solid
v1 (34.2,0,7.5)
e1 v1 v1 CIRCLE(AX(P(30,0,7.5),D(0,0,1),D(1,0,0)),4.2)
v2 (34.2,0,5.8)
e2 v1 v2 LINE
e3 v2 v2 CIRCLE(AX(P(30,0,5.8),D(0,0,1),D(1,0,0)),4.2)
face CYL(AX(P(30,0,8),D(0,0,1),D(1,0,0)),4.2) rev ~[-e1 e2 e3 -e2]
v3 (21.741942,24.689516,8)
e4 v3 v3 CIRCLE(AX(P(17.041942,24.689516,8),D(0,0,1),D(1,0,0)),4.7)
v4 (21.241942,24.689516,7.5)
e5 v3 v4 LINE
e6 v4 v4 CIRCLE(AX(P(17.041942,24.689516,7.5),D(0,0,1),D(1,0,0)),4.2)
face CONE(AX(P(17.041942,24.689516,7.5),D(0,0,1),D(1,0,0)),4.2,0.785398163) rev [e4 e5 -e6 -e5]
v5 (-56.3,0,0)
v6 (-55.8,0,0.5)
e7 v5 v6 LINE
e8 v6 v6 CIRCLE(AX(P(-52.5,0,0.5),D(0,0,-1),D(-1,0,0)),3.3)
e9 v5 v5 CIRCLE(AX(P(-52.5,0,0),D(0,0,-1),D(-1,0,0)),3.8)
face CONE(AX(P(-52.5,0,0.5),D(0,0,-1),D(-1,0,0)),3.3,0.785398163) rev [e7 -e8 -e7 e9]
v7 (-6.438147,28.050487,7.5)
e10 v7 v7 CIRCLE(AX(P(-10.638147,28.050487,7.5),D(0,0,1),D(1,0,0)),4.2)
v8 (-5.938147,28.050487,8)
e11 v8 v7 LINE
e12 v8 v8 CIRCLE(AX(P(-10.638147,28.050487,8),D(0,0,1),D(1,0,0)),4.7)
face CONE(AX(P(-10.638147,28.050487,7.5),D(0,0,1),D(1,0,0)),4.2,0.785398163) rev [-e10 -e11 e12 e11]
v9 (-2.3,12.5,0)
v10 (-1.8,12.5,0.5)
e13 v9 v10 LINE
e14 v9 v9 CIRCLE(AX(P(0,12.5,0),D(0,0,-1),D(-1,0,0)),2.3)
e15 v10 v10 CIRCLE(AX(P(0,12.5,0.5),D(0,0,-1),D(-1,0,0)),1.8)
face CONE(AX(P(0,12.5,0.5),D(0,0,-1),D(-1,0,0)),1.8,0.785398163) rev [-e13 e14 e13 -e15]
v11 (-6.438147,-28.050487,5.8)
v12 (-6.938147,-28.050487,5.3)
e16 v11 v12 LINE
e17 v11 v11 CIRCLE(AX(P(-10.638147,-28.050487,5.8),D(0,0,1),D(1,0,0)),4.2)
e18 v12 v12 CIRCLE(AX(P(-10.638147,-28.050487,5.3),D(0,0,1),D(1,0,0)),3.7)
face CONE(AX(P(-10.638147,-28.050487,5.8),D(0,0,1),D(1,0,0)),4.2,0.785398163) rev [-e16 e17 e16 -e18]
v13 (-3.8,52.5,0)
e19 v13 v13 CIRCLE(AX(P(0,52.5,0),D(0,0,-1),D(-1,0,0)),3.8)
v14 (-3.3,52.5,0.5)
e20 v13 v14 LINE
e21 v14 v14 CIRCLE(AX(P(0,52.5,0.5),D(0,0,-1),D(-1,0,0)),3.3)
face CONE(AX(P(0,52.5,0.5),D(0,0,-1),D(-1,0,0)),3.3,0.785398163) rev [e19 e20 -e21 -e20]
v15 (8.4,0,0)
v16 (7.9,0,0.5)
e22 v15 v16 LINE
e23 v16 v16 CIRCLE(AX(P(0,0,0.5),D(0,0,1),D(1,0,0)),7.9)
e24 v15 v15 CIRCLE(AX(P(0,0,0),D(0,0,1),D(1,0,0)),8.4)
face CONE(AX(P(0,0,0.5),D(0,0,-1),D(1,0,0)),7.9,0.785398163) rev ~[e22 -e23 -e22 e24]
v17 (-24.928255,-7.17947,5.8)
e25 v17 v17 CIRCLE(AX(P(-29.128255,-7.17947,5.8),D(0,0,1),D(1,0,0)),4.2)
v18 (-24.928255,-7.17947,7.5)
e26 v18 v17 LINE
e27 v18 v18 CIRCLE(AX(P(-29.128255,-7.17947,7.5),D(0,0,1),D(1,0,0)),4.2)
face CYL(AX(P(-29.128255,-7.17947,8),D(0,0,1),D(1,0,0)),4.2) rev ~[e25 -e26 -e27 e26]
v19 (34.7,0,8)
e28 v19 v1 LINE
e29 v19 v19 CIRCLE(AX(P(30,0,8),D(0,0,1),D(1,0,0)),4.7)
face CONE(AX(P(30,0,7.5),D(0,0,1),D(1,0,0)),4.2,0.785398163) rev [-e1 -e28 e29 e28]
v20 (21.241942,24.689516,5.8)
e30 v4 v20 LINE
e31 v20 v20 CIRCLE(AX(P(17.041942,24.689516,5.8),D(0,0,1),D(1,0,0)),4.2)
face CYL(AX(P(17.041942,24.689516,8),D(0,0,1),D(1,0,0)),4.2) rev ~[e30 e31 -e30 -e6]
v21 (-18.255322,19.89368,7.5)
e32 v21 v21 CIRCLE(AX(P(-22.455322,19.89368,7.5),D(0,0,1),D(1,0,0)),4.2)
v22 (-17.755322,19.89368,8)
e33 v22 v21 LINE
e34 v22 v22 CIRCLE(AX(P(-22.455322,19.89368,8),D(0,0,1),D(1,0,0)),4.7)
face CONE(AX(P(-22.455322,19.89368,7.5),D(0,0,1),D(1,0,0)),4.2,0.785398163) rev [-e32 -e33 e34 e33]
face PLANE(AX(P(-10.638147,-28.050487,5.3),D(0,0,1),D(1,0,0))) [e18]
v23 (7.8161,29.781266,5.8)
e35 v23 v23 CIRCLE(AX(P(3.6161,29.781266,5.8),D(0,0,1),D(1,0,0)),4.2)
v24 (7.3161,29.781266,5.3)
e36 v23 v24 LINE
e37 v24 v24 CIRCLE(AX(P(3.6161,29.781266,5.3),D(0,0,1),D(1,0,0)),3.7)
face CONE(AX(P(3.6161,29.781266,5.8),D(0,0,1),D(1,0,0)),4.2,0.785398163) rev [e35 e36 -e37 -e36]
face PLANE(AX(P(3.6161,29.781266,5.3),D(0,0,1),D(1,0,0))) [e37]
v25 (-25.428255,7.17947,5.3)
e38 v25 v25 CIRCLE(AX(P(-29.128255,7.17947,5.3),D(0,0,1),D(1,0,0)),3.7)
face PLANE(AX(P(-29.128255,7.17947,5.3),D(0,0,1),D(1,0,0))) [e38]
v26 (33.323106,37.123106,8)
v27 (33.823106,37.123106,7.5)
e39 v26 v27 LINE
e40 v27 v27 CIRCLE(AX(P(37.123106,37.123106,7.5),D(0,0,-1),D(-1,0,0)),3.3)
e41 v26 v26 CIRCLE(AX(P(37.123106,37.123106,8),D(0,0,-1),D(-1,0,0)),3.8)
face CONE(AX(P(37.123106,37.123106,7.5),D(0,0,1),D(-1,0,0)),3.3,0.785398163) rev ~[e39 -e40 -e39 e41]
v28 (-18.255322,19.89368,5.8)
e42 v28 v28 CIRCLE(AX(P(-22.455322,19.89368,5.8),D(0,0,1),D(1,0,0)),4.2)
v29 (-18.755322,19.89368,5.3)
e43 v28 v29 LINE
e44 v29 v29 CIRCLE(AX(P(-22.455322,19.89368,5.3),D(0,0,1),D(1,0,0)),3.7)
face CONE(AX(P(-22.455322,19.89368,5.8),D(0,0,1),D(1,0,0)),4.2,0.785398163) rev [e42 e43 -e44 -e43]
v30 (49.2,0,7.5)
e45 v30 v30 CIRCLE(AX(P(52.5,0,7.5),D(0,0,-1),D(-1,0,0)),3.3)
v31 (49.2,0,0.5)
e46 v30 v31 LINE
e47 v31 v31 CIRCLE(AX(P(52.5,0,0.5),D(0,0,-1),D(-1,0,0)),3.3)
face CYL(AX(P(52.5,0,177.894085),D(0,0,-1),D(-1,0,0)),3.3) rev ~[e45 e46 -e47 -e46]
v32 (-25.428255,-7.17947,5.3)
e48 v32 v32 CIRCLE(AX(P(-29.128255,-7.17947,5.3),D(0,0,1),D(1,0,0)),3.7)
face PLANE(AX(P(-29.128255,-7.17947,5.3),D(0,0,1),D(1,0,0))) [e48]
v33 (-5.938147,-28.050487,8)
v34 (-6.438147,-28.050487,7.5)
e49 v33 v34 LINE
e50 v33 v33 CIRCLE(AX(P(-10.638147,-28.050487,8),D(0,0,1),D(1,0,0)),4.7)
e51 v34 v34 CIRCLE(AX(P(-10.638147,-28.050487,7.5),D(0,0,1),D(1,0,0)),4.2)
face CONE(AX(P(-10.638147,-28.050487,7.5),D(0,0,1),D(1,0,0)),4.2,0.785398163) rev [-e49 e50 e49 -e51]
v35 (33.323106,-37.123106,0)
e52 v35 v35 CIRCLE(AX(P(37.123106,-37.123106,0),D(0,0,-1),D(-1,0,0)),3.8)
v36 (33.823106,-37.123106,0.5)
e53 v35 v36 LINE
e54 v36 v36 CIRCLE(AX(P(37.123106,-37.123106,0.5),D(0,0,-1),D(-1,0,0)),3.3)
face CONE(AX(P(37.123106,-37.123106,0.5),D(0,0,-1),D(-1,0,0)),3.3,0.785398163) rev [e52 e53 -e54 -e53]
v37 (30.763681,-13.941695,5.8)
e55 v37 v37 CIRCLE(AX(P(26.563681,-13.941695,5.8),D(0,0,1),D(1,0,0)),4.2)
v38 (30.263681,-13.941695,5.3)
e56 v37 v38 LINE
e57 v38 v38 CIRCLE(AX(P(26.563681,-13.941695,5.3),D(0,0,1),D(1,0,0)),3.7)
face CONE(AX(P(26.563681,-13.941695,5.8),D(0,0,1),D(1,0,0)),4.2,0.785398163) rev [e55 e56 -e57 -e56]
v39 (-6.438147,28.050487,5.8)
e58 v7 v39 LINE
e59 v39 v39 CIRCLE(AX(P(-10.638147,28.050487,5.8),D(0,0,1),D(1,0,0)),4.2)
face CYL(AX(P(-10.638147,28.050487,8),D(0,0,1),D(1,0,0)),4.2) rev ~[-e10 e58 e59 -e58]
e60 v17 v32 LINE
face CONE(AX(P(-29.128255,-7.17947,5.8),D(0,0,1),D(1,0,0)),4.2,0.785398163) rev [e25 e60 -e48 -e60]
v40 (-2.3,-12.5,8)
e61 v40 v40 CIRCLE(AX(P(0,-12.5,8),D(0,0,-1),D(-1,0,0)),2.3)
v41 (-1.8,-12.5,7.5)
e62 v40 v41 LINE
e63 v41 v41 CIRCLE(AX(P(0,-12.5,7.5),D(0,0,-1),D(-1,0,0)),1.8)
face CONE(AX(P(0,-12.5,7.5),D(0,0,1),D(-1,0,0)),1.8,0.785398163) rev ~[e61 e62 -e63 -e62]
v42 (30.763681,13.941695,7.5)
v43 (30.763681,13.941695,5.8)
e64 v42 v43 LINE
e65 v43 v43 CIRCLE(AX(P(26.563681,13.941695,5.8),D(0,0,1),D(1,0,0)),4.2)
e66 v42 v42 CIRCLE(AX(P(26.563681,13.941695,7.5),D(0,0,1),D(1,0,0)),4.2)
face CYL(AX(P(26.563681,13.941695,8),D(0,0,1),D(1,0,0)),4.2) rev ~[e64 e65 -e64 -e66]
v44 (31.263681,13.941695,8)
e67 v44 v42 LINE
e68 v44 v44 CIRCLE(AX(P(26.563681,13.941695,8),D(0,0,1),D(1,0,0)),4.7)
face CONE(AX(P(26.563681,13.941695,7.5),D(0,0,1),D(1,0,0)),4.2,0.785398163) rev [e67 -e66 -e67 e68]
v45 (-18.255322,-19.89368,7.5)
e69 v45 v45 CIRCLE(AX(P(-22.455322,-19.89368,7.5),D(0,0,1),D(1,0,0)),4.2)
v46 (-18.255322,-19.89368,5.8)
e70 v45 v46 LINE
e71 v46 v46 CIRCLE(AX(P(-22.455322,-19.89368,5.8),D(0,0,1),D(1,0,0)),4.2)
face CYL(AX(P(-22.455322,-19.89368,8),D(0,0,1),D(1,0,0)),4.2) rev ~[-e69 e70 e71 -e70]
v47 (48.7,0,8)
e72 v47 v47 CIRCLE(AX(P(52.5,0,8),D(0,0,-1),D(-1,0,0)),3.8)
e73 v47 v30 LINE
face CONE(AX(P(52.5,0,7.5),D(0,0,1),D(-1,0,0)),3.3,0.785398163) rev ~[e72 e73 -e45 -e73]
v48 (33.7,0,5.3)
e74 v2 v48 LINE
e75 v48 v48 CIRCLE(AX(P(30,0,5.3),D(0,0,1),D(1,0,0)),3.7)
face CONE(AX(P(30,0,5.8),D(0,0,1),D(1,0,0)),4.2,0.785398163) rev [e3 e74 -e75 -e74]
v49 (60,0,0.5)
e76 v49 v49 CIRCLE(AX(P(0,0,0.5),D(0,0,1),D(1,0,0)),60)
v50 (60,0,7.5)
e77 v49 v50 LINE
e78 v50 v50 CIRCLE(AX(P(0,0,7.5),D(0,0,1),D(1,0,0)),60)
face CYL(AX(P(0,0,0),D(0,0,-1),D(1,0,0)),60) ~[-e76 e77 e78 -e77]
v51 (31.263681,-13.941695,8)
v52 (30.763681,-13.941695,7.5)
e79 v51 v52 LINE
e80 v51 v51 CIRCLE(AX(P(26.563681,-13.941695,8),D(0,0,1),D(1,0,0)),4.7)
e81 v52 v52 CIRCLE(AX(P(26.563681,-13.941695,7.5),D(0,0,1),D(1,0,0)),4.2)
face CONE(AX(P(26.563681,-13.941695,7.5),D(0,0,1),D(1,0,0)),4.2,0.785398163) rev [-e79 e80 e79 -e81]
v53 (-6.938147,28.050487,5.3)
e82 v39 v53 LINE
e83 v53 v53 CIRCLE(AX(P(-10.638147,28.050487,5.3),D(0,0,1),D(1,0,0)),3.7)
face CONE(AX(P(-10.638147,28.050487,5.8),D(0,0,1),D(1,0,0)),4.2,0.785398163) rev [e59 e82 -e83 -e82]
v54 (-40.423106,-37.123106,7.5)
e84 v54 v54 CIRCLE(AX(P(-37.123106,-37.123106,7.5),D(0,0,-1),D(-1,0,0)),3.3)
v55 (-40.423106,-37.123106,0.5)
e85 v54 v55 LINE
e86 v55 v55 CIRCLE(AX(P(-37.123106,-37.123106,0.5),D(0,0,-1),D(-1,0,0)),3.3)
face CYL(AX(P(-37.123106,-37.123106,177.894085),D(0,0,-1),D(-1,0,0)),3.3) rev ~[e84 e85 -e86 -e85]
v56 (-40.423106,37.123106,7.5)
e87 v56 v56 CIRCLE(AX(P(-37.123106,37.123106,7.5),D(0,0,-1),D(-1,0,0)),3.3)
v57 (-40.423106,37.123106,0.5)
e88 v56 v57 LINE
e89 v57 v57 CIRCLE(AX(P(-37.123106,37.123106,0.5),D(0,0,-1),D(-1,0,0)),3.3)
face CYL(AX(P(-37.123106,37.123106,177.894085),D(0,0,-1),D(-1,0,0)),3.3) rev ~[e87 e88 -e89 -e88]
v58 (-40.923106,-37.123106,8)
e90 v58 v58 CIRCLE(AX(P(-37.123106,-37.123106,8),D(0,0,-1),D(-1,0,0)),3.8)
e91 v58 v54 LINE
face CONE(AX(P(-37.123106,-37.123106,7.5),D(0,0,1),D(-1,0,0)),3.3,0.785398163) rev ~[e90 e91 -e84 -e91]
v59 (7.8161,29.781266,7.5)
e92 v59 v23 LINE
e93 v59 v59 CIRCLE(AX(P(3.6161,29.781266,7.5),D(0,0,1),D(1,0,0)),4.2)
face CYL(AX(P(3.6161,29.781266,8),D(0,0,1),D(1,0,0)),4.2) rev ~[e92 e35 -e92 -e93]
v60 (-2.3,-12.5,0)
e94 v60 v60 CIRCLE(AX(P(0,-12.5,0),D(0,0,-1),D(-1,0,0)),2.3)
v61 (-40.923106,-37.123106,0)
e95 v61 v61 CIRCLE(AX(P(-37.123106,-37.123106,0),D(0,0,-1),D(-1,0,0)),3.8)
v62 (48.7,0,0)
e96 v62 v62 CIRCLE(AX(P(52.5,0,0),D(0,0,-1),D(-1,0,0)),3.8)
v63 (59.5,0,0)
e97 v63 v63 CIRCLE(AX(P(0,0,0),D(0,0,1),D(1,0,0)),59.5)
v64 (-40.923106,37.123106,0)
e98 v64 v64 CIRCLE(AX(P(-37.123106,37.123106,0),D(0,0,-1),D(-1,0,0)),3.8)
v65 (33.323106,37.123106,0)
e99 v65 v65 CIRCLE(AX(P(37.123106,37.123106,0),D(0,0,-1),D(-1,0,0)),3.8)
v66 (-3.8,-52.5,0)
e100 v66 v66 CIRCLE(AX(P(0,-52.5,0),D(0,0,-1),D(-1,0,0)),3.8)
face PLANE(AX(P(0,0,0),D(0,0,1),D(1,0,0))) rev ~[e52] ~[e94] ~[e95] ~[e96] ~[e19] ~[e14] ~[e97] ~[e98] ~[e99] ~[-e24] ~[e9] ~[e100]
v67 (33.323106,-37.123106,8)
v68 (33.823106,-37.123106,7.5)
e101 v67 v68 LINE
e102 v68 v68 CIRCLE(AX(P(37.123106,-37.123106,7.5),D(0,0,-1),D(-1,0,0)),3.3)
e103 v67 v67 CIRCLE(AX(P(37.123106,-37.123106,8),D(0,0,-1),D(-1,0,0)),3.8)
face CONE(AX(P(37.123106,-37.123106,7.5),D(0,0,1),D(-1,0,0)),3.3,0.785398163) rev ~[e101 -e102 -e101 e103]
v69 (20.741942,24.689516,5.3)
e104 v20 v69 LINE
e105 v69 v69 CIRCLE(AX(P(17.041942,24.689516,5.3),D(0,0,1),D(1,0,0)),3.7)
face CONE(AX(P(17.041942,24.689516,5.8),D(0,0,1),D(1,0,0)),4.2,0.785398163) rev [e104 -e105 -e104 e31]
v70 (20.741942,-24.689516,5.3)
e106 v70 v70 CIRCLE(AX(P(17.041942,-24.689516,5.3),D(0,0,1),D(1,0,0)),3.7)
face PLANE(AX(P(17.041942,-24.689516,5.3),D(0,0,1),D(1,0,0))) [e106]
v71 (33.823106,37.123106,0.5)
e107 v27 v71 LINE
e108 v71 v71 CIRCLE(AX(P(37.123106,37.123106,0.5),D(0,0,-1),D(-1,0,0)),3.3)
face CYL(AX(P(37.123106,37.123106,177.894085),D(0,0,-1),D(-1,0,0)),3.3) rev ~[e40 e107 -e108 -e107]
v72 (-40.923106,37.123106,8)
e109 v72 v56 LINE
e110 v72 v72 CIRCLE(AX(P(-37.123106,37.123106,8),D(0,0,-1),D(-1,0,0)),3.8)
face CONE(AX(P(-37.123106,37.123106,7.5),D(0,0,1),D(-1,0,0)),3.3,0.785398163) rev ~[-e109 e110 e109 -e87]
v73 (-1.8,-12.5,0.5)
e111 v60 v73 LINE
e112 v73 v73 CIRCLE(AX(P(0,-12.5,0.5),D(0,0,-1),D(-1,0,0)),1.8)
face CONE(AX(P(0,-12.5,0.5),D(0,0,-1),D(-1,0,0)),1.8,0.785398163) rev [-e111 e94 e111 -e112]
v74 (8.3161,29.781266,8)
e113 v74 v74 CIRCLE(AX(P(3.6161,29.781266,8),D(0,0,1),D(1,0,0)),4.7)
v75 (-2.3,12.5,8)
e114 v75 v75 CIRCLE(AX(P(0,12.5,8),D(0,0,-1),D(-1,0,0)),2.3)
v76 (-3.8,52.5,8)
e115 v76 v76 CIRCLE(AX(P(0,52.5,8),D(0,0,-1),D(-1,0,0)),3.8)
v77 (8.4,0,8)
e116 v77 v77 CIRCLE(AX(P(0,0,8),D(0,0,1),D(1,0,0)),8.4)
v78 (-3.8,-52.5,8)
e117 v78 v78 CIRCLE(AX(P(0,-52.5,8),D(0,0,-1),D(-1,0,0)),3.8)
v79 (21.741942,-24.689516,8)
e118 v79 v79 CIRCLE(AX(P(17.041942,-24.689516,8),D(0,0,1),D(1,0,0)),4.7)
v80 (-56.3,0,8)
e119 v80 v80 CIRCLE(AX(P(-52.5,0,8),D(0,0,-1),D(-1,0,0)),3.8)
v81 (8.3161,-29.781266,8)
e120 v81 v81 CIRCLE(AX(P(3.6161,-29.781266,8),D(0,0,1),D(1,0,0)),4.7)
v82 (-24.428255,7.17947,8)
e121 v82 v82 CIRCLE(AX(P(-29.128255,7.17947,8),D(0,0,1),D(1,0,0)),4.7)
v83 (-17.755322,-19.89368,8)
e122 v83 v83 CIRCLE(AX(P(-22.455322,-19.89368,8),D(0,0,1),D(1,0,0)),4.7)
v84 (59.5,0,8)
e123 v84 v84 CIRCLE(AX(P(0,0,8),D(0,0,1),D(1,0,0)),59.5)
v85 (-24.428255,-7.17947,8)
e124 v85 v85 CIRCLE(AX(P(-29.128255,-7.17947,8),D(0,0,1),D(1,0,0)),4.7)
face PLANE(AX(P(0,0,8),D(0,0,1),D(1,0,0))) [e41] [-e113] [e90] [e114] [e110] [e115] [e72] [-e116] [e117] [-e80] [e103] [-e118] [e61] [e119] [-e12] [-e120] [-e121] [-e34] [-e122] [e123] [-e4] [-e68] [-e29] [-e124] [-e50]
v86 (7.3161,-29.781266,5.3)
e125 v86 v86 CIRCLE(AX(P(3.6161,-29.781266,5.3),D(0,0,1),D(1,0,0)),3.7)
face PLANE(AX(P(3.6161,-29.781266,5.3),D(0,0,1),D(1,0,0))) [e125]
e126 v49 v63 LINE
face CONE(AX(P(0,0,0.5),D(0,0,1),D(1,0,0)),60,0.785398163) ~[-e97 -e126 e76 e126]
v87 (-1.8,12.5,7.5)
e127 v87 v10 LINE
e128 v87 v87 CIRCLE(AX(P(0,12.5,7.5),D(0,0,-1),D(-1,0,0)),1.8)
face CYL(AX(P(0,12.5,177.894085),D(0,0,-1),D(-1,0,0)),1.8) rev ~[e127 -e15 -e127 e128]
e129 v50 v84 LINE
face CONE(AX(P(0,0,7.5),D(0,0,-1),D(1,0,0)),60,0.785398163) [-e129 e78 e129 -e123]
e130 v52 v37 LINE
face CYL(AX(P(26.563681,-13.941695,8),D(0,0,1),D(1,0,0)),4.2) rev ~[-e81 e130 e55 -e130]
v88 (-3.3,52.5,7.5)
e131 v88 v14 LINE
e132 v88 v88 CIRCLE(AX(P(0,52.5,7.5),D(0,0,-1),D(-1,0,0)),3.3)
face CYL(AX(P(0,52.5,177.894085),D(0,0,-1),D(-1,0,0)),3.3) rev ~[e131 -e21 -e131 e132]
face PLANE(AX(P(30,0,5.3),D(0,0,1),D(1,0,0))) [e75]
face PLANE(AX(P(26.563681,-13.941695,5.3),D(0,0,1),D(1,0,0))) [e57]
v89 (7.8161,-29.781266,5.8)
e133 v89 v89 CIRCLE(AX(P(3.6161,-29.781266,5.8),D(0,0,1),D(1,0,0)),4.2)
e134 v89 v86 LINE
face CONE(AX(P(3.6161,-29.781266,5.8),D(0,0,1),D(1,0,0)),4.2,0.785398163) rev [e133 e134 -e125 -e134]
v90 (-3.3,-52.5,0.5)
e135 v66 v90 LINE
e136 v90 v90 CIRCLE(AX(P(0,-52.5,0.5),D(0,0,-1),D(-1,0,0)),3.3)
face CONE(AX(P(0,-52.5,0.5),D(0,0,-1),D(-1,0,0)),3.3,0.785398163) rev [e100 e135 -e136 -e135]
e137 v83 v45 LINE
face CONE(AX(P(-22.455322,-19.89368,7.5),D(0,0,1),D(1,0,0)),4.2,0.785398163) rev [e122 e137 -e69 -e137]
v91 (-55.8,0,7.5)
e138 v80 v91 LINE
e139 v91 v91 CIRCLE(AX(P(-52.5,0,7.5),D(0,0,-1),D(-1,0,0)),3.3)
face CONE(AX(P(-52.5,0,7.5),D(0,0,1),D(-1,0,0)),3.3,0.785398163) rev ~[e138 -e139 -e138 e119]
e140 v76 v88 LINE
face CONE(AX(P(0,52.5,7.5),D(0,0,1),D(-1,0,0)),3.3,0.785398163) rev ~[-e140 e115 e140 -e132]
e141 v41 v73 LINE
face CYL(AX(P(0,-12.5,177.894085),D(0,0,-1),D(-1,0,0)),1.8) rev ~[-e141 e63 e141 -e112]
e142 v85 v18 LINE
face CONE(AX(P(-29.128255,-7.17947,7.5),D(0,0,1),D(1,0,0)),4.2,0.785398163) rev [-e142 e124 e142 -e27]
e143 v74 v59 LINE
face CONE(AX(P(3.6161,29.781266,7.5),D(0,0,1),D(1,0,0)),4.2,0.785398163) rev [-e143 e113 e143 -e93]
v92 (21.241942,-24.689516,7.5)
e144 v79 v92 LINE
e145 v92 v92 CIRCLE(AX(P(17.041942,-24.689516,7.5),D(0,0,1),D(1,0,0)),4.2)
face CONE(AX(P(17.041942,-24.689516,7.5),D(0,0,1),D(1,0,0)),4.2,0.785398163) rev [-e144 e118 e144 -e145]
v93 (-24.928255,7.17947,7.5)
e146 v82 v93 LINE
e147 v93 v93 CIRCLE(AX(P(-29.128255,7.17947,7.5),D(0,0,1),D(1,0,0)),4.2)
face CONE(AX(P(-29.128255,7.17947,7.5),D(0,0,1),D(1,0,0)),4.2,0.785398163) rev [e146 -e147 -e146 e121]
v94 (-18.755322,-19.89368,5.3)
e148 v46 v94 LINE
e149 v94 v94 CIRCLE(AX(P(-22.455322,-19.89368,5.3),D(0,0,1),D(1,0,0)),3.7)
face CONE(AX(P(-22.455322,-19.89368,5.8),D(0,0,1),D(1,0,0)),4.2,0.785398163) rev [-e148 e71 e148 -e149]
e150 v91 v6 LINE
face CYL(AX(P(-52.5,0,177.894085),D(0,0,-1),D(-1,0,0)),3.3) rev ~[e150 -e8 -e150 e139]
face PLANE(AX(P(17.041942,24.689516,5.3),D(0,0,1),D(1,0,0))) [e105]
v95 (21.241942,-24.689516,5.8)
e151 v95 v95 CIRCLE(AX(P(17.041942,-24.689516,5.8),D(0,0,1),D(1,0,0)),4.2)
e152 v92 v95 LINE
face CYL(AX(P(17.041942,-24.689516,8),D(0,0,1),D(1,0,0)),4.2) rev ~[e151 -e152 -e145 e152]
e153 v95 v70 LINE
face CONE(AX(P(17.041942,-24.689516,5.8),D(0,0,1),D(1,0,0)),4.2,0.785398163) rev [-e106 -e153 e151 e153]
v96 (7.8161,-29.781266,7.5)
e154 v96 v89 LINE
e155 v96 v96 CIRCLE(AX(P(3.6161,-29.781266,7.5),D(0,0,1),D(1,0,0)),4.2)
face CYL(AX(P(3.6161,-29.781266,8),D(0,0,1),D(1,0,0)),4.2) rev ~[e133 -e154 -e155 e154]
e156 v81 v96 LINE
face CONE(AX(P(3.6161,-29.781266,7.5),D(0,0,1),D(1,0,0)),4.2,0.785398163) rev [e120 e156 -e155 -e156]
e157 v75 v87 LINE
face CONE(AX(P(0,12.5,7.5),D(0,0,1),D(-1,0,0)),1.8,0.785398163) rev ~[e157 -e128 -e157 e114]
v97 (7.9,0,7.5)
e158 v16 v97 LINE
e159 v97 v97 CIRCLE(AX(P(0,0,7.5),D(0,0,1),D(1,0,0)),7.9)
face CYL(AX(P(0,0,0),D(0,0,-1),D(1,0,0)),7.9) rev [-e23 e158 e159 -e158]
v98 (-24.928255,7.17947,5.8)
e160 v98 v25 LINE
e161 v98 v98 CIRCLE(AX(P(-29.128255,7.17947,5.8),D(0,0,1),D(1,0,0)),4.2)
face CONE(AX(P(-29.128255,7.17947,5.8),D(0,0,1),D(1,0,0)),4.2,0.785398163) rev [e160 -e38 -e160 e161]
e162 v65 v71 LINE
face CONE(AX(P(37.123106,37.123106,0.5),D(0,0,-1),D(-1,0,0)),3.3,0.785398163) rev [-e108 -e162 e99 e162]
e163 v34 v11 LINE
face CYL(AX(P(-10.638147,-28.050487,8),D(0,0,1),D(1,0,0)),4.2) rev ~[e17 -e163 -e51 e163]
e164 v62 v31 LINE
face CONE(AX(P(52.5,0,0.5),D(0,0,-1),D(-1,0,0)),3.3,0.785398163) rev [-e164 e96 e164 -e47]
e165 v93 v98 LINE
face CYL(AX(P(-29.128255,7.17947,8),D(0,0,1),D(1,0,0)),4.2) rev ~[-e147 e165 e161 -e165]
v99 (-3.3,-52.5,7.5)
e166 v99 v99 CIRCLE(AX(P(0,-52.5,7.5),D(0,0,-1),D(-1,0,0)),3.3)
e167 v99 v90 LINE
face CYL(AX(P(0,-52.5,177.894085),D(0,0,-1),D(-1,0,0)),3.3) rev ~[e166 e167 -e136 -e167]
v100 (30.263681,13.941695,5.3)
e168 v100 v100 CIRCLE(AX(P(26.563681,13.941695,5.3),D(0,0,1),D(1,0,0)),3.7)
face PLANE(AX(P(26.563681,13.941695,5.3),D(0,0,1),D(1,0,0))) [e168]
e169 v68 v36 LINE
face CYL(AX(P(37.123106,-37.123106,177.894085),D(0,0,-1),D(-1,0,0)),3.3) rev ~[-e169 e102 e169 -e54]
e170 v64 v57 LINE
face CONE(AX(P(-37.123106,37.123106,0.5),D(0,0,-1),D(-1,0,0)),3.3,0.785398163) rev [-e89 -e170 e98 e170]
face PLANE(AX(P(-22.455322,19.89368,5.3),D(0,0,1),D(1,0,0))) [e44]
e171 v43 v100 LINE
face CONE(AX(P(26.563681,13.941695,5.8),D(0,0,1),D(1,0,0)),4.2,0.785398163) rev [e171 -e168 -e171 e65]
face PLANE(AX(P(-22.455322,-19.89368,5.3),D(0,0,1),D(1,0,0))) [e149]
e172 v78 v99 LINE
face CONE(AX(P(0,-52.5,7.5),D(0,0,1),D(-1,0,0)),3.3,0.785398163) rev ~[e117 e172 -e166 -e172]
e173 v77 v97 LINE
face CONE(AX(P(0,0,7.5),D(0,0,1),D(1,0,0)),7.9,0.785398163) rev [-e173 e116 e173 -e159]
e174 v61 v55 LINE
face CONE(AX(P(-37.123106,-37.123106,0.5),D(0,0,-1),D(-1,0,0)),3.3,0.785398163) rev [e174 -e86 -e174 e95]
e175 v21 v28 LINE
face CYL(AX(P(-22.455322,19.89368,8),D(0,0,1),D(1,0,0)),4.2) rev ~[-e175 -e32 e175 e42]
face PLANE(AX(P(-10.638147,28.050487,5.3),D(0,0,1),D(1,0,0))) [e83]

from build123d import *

# Parameters (mm, degrees)
SKETCH1_R            = 60
SKETCH1_R_2          = 7.9
BOSS_EXTRUDE1_DEPTH  = 8
M6_CLEARANCE_HOLE1_D = 6.6
M3_CLEARANCE_HOLE1_D = 3.6
SKETCH8_R            = 4.2
CUT_EXTRUDE1_DEPTH   = 2.7
CHAMFER1_SIZE        = 0.5


with BuildPart() as part:
    # Sketch1 → Boss-Extrude1 (new body)
    with BuildSketch(Plane.XY):
        Circle(SKETCH1_R)
        Circle(SKETCH1_R_2, mode=Mode.SUBTRACT)
    extrude(amount=BOSS_EXTRUDE1_DEPTH)

    # M6 Clearance Hole1 (through all)
    with Locations(Plane.XY.offset(8)):
        with Locations((-37.123106012, 37.123106012), (0, 52.5), (37.123106012, 37.123106012), (52.5, 0), (37.123106012, -37.123106012), (0, -52.5), (-37.123106012, -37.123106012), (-52.5, 0)):
            Hole(M6_CLEARANCE_HOLE1_D / 2)

    # M3 Clearance Hole1 (through all)
    with Locations(Plane.XY.offset(8)):
        with Locations((0, 12.5), (0, -12.5), (0, 0)):
            Hole(M3_CLEARANCE_HOLE1_D / 2)

    # Sketch8 → Cut-Extrude1 (cut)
    with BuildSketch(Plane.XY.offset(8)):
        with Locations((30, 0)):
            Circle(SKETCH8_R)
        with Locations((26.56368077, -13.941695161)):
            Circle(SKETCH8_R)
        with Locations((17.041942402, -24.689515977)):
            Circle(SKETCH8_R)
        with Locations((3.616100408, -29.781266223)):
            Circle(SKETCH8_R)
        with Locations((-10.638146611, -28.050487281)):
            Circle(SKETCH8_R)
        with Locations((-22.455322445, -19.893679747)):
            Circle(SKETCH8_R)
        with Locations((-29.128254523, -7.179469929)):
            Circle(SKETCH8_R)
        with Locations((-29.128254523, 7.179469929)):
            Circle(SKETCH8_R)
        with Locations((-22.455322445, 19.893679747)):
            Circle(SKETCH8_R)
        with Locations((-10.638146611, 28.050487281)):
            Circle(SKETCH8_R)
        with Locations((3.616100408, 29.781266223)):
            Circle(SKETCH8_R)
        with Locations((17.041942402, 24.689515977)):
            Circle(SKETCH8_R)
        with Locations((26.56368077, 13.941695161)):
            Circle(SKETCH8_R)
    extrude(amount=-CUT_EXTRUDE1_DEPTH, mode=Mode.SUBTRACT)

    # Chamfer1
    chamfer1_edges = [part.edges().sort_by_distance(p)[0] for p in [
        (25.8, 0, 5.3),
        (25.8, 0, 8),
        (-33.823106012, 37.123106012, 8),
        (-33.823106012, 37.123106012, 0),
        (-60, 0, 0),
        (-49.2, 0, 8),
        (-49.2, 0, 0),
        (-33.823106012, -37.123106012, 8),
        (-33.823106012, -37.123106012, 0),
        (3.3, -52.5, 8),
        (3.3, -52.5, 0),
        (40.423106012, -37.123106012, 8),
        (40.423106012, -37.123106012, 0),
        (55.8, 0, 8),
        (55.8, 0, 0),
        (40.423106012, 37.123106012, 8),
        (40.423106012, 37.123106012, 0),
        (-60, 0, 8),
        (-7.9, 0, 0),
        (3.3, 52.5, 8),
        (3.3, 52.5, 0),
        (-7.9, 0, 8),
        (1.8, -12.5, 8),
        (1.8, -12.5, 0),
        (1.8, 12.5, 8),
        (1.8, 12.5, 0),
        (22.36368077, -13.941695161, 5.3),
        (22.36368077, -13.941695161, 8),
        (12.841942402, -24.689515977, 5.3),
        (12.841942402, -24.689515977, 8),
        (-0.583899592, -29.781266223, 5.3),
        (-0.583899592, -29.781266223, 8),
        (-14.838146611, -28.050487281, 5.3),
        (-14.838146611, -28.050487281, 8),
        (-26.655322445, -19.893679747, 5.3),
        (-26.655322445, -19.893679747, 8),
        (-33.328254523, -7.179469929, 5.3),
        (-33.328254523, -7.179469929, 8),
        (-33.328254523, 7.179469929, 5.3),
        (-33.328254523, 7.179469929, 8),
        (-26.655322445, 19.893679747, 5.3),
        (-26.655322445, 19.893679747, 8),
        (-14.838146611, 28.050487281, 5.3),
        (-14.838146611, 28.050487281, 8),
        (-0.583899592, 29.781266223, 5.3),
        (-0.583899592, 29.781266223, 8),
        (12.841942402, 24.689515977, 5.3),
        (12.841942402, 24.689515977, 8),
        (22.36368077, 13.941695161, 5.3),
        (22.36368077, 13.941695161, 8),
    ]]
    chamfer(chamfer1_edges, length=CHAMFER1_SIZE)


solid = part.part
